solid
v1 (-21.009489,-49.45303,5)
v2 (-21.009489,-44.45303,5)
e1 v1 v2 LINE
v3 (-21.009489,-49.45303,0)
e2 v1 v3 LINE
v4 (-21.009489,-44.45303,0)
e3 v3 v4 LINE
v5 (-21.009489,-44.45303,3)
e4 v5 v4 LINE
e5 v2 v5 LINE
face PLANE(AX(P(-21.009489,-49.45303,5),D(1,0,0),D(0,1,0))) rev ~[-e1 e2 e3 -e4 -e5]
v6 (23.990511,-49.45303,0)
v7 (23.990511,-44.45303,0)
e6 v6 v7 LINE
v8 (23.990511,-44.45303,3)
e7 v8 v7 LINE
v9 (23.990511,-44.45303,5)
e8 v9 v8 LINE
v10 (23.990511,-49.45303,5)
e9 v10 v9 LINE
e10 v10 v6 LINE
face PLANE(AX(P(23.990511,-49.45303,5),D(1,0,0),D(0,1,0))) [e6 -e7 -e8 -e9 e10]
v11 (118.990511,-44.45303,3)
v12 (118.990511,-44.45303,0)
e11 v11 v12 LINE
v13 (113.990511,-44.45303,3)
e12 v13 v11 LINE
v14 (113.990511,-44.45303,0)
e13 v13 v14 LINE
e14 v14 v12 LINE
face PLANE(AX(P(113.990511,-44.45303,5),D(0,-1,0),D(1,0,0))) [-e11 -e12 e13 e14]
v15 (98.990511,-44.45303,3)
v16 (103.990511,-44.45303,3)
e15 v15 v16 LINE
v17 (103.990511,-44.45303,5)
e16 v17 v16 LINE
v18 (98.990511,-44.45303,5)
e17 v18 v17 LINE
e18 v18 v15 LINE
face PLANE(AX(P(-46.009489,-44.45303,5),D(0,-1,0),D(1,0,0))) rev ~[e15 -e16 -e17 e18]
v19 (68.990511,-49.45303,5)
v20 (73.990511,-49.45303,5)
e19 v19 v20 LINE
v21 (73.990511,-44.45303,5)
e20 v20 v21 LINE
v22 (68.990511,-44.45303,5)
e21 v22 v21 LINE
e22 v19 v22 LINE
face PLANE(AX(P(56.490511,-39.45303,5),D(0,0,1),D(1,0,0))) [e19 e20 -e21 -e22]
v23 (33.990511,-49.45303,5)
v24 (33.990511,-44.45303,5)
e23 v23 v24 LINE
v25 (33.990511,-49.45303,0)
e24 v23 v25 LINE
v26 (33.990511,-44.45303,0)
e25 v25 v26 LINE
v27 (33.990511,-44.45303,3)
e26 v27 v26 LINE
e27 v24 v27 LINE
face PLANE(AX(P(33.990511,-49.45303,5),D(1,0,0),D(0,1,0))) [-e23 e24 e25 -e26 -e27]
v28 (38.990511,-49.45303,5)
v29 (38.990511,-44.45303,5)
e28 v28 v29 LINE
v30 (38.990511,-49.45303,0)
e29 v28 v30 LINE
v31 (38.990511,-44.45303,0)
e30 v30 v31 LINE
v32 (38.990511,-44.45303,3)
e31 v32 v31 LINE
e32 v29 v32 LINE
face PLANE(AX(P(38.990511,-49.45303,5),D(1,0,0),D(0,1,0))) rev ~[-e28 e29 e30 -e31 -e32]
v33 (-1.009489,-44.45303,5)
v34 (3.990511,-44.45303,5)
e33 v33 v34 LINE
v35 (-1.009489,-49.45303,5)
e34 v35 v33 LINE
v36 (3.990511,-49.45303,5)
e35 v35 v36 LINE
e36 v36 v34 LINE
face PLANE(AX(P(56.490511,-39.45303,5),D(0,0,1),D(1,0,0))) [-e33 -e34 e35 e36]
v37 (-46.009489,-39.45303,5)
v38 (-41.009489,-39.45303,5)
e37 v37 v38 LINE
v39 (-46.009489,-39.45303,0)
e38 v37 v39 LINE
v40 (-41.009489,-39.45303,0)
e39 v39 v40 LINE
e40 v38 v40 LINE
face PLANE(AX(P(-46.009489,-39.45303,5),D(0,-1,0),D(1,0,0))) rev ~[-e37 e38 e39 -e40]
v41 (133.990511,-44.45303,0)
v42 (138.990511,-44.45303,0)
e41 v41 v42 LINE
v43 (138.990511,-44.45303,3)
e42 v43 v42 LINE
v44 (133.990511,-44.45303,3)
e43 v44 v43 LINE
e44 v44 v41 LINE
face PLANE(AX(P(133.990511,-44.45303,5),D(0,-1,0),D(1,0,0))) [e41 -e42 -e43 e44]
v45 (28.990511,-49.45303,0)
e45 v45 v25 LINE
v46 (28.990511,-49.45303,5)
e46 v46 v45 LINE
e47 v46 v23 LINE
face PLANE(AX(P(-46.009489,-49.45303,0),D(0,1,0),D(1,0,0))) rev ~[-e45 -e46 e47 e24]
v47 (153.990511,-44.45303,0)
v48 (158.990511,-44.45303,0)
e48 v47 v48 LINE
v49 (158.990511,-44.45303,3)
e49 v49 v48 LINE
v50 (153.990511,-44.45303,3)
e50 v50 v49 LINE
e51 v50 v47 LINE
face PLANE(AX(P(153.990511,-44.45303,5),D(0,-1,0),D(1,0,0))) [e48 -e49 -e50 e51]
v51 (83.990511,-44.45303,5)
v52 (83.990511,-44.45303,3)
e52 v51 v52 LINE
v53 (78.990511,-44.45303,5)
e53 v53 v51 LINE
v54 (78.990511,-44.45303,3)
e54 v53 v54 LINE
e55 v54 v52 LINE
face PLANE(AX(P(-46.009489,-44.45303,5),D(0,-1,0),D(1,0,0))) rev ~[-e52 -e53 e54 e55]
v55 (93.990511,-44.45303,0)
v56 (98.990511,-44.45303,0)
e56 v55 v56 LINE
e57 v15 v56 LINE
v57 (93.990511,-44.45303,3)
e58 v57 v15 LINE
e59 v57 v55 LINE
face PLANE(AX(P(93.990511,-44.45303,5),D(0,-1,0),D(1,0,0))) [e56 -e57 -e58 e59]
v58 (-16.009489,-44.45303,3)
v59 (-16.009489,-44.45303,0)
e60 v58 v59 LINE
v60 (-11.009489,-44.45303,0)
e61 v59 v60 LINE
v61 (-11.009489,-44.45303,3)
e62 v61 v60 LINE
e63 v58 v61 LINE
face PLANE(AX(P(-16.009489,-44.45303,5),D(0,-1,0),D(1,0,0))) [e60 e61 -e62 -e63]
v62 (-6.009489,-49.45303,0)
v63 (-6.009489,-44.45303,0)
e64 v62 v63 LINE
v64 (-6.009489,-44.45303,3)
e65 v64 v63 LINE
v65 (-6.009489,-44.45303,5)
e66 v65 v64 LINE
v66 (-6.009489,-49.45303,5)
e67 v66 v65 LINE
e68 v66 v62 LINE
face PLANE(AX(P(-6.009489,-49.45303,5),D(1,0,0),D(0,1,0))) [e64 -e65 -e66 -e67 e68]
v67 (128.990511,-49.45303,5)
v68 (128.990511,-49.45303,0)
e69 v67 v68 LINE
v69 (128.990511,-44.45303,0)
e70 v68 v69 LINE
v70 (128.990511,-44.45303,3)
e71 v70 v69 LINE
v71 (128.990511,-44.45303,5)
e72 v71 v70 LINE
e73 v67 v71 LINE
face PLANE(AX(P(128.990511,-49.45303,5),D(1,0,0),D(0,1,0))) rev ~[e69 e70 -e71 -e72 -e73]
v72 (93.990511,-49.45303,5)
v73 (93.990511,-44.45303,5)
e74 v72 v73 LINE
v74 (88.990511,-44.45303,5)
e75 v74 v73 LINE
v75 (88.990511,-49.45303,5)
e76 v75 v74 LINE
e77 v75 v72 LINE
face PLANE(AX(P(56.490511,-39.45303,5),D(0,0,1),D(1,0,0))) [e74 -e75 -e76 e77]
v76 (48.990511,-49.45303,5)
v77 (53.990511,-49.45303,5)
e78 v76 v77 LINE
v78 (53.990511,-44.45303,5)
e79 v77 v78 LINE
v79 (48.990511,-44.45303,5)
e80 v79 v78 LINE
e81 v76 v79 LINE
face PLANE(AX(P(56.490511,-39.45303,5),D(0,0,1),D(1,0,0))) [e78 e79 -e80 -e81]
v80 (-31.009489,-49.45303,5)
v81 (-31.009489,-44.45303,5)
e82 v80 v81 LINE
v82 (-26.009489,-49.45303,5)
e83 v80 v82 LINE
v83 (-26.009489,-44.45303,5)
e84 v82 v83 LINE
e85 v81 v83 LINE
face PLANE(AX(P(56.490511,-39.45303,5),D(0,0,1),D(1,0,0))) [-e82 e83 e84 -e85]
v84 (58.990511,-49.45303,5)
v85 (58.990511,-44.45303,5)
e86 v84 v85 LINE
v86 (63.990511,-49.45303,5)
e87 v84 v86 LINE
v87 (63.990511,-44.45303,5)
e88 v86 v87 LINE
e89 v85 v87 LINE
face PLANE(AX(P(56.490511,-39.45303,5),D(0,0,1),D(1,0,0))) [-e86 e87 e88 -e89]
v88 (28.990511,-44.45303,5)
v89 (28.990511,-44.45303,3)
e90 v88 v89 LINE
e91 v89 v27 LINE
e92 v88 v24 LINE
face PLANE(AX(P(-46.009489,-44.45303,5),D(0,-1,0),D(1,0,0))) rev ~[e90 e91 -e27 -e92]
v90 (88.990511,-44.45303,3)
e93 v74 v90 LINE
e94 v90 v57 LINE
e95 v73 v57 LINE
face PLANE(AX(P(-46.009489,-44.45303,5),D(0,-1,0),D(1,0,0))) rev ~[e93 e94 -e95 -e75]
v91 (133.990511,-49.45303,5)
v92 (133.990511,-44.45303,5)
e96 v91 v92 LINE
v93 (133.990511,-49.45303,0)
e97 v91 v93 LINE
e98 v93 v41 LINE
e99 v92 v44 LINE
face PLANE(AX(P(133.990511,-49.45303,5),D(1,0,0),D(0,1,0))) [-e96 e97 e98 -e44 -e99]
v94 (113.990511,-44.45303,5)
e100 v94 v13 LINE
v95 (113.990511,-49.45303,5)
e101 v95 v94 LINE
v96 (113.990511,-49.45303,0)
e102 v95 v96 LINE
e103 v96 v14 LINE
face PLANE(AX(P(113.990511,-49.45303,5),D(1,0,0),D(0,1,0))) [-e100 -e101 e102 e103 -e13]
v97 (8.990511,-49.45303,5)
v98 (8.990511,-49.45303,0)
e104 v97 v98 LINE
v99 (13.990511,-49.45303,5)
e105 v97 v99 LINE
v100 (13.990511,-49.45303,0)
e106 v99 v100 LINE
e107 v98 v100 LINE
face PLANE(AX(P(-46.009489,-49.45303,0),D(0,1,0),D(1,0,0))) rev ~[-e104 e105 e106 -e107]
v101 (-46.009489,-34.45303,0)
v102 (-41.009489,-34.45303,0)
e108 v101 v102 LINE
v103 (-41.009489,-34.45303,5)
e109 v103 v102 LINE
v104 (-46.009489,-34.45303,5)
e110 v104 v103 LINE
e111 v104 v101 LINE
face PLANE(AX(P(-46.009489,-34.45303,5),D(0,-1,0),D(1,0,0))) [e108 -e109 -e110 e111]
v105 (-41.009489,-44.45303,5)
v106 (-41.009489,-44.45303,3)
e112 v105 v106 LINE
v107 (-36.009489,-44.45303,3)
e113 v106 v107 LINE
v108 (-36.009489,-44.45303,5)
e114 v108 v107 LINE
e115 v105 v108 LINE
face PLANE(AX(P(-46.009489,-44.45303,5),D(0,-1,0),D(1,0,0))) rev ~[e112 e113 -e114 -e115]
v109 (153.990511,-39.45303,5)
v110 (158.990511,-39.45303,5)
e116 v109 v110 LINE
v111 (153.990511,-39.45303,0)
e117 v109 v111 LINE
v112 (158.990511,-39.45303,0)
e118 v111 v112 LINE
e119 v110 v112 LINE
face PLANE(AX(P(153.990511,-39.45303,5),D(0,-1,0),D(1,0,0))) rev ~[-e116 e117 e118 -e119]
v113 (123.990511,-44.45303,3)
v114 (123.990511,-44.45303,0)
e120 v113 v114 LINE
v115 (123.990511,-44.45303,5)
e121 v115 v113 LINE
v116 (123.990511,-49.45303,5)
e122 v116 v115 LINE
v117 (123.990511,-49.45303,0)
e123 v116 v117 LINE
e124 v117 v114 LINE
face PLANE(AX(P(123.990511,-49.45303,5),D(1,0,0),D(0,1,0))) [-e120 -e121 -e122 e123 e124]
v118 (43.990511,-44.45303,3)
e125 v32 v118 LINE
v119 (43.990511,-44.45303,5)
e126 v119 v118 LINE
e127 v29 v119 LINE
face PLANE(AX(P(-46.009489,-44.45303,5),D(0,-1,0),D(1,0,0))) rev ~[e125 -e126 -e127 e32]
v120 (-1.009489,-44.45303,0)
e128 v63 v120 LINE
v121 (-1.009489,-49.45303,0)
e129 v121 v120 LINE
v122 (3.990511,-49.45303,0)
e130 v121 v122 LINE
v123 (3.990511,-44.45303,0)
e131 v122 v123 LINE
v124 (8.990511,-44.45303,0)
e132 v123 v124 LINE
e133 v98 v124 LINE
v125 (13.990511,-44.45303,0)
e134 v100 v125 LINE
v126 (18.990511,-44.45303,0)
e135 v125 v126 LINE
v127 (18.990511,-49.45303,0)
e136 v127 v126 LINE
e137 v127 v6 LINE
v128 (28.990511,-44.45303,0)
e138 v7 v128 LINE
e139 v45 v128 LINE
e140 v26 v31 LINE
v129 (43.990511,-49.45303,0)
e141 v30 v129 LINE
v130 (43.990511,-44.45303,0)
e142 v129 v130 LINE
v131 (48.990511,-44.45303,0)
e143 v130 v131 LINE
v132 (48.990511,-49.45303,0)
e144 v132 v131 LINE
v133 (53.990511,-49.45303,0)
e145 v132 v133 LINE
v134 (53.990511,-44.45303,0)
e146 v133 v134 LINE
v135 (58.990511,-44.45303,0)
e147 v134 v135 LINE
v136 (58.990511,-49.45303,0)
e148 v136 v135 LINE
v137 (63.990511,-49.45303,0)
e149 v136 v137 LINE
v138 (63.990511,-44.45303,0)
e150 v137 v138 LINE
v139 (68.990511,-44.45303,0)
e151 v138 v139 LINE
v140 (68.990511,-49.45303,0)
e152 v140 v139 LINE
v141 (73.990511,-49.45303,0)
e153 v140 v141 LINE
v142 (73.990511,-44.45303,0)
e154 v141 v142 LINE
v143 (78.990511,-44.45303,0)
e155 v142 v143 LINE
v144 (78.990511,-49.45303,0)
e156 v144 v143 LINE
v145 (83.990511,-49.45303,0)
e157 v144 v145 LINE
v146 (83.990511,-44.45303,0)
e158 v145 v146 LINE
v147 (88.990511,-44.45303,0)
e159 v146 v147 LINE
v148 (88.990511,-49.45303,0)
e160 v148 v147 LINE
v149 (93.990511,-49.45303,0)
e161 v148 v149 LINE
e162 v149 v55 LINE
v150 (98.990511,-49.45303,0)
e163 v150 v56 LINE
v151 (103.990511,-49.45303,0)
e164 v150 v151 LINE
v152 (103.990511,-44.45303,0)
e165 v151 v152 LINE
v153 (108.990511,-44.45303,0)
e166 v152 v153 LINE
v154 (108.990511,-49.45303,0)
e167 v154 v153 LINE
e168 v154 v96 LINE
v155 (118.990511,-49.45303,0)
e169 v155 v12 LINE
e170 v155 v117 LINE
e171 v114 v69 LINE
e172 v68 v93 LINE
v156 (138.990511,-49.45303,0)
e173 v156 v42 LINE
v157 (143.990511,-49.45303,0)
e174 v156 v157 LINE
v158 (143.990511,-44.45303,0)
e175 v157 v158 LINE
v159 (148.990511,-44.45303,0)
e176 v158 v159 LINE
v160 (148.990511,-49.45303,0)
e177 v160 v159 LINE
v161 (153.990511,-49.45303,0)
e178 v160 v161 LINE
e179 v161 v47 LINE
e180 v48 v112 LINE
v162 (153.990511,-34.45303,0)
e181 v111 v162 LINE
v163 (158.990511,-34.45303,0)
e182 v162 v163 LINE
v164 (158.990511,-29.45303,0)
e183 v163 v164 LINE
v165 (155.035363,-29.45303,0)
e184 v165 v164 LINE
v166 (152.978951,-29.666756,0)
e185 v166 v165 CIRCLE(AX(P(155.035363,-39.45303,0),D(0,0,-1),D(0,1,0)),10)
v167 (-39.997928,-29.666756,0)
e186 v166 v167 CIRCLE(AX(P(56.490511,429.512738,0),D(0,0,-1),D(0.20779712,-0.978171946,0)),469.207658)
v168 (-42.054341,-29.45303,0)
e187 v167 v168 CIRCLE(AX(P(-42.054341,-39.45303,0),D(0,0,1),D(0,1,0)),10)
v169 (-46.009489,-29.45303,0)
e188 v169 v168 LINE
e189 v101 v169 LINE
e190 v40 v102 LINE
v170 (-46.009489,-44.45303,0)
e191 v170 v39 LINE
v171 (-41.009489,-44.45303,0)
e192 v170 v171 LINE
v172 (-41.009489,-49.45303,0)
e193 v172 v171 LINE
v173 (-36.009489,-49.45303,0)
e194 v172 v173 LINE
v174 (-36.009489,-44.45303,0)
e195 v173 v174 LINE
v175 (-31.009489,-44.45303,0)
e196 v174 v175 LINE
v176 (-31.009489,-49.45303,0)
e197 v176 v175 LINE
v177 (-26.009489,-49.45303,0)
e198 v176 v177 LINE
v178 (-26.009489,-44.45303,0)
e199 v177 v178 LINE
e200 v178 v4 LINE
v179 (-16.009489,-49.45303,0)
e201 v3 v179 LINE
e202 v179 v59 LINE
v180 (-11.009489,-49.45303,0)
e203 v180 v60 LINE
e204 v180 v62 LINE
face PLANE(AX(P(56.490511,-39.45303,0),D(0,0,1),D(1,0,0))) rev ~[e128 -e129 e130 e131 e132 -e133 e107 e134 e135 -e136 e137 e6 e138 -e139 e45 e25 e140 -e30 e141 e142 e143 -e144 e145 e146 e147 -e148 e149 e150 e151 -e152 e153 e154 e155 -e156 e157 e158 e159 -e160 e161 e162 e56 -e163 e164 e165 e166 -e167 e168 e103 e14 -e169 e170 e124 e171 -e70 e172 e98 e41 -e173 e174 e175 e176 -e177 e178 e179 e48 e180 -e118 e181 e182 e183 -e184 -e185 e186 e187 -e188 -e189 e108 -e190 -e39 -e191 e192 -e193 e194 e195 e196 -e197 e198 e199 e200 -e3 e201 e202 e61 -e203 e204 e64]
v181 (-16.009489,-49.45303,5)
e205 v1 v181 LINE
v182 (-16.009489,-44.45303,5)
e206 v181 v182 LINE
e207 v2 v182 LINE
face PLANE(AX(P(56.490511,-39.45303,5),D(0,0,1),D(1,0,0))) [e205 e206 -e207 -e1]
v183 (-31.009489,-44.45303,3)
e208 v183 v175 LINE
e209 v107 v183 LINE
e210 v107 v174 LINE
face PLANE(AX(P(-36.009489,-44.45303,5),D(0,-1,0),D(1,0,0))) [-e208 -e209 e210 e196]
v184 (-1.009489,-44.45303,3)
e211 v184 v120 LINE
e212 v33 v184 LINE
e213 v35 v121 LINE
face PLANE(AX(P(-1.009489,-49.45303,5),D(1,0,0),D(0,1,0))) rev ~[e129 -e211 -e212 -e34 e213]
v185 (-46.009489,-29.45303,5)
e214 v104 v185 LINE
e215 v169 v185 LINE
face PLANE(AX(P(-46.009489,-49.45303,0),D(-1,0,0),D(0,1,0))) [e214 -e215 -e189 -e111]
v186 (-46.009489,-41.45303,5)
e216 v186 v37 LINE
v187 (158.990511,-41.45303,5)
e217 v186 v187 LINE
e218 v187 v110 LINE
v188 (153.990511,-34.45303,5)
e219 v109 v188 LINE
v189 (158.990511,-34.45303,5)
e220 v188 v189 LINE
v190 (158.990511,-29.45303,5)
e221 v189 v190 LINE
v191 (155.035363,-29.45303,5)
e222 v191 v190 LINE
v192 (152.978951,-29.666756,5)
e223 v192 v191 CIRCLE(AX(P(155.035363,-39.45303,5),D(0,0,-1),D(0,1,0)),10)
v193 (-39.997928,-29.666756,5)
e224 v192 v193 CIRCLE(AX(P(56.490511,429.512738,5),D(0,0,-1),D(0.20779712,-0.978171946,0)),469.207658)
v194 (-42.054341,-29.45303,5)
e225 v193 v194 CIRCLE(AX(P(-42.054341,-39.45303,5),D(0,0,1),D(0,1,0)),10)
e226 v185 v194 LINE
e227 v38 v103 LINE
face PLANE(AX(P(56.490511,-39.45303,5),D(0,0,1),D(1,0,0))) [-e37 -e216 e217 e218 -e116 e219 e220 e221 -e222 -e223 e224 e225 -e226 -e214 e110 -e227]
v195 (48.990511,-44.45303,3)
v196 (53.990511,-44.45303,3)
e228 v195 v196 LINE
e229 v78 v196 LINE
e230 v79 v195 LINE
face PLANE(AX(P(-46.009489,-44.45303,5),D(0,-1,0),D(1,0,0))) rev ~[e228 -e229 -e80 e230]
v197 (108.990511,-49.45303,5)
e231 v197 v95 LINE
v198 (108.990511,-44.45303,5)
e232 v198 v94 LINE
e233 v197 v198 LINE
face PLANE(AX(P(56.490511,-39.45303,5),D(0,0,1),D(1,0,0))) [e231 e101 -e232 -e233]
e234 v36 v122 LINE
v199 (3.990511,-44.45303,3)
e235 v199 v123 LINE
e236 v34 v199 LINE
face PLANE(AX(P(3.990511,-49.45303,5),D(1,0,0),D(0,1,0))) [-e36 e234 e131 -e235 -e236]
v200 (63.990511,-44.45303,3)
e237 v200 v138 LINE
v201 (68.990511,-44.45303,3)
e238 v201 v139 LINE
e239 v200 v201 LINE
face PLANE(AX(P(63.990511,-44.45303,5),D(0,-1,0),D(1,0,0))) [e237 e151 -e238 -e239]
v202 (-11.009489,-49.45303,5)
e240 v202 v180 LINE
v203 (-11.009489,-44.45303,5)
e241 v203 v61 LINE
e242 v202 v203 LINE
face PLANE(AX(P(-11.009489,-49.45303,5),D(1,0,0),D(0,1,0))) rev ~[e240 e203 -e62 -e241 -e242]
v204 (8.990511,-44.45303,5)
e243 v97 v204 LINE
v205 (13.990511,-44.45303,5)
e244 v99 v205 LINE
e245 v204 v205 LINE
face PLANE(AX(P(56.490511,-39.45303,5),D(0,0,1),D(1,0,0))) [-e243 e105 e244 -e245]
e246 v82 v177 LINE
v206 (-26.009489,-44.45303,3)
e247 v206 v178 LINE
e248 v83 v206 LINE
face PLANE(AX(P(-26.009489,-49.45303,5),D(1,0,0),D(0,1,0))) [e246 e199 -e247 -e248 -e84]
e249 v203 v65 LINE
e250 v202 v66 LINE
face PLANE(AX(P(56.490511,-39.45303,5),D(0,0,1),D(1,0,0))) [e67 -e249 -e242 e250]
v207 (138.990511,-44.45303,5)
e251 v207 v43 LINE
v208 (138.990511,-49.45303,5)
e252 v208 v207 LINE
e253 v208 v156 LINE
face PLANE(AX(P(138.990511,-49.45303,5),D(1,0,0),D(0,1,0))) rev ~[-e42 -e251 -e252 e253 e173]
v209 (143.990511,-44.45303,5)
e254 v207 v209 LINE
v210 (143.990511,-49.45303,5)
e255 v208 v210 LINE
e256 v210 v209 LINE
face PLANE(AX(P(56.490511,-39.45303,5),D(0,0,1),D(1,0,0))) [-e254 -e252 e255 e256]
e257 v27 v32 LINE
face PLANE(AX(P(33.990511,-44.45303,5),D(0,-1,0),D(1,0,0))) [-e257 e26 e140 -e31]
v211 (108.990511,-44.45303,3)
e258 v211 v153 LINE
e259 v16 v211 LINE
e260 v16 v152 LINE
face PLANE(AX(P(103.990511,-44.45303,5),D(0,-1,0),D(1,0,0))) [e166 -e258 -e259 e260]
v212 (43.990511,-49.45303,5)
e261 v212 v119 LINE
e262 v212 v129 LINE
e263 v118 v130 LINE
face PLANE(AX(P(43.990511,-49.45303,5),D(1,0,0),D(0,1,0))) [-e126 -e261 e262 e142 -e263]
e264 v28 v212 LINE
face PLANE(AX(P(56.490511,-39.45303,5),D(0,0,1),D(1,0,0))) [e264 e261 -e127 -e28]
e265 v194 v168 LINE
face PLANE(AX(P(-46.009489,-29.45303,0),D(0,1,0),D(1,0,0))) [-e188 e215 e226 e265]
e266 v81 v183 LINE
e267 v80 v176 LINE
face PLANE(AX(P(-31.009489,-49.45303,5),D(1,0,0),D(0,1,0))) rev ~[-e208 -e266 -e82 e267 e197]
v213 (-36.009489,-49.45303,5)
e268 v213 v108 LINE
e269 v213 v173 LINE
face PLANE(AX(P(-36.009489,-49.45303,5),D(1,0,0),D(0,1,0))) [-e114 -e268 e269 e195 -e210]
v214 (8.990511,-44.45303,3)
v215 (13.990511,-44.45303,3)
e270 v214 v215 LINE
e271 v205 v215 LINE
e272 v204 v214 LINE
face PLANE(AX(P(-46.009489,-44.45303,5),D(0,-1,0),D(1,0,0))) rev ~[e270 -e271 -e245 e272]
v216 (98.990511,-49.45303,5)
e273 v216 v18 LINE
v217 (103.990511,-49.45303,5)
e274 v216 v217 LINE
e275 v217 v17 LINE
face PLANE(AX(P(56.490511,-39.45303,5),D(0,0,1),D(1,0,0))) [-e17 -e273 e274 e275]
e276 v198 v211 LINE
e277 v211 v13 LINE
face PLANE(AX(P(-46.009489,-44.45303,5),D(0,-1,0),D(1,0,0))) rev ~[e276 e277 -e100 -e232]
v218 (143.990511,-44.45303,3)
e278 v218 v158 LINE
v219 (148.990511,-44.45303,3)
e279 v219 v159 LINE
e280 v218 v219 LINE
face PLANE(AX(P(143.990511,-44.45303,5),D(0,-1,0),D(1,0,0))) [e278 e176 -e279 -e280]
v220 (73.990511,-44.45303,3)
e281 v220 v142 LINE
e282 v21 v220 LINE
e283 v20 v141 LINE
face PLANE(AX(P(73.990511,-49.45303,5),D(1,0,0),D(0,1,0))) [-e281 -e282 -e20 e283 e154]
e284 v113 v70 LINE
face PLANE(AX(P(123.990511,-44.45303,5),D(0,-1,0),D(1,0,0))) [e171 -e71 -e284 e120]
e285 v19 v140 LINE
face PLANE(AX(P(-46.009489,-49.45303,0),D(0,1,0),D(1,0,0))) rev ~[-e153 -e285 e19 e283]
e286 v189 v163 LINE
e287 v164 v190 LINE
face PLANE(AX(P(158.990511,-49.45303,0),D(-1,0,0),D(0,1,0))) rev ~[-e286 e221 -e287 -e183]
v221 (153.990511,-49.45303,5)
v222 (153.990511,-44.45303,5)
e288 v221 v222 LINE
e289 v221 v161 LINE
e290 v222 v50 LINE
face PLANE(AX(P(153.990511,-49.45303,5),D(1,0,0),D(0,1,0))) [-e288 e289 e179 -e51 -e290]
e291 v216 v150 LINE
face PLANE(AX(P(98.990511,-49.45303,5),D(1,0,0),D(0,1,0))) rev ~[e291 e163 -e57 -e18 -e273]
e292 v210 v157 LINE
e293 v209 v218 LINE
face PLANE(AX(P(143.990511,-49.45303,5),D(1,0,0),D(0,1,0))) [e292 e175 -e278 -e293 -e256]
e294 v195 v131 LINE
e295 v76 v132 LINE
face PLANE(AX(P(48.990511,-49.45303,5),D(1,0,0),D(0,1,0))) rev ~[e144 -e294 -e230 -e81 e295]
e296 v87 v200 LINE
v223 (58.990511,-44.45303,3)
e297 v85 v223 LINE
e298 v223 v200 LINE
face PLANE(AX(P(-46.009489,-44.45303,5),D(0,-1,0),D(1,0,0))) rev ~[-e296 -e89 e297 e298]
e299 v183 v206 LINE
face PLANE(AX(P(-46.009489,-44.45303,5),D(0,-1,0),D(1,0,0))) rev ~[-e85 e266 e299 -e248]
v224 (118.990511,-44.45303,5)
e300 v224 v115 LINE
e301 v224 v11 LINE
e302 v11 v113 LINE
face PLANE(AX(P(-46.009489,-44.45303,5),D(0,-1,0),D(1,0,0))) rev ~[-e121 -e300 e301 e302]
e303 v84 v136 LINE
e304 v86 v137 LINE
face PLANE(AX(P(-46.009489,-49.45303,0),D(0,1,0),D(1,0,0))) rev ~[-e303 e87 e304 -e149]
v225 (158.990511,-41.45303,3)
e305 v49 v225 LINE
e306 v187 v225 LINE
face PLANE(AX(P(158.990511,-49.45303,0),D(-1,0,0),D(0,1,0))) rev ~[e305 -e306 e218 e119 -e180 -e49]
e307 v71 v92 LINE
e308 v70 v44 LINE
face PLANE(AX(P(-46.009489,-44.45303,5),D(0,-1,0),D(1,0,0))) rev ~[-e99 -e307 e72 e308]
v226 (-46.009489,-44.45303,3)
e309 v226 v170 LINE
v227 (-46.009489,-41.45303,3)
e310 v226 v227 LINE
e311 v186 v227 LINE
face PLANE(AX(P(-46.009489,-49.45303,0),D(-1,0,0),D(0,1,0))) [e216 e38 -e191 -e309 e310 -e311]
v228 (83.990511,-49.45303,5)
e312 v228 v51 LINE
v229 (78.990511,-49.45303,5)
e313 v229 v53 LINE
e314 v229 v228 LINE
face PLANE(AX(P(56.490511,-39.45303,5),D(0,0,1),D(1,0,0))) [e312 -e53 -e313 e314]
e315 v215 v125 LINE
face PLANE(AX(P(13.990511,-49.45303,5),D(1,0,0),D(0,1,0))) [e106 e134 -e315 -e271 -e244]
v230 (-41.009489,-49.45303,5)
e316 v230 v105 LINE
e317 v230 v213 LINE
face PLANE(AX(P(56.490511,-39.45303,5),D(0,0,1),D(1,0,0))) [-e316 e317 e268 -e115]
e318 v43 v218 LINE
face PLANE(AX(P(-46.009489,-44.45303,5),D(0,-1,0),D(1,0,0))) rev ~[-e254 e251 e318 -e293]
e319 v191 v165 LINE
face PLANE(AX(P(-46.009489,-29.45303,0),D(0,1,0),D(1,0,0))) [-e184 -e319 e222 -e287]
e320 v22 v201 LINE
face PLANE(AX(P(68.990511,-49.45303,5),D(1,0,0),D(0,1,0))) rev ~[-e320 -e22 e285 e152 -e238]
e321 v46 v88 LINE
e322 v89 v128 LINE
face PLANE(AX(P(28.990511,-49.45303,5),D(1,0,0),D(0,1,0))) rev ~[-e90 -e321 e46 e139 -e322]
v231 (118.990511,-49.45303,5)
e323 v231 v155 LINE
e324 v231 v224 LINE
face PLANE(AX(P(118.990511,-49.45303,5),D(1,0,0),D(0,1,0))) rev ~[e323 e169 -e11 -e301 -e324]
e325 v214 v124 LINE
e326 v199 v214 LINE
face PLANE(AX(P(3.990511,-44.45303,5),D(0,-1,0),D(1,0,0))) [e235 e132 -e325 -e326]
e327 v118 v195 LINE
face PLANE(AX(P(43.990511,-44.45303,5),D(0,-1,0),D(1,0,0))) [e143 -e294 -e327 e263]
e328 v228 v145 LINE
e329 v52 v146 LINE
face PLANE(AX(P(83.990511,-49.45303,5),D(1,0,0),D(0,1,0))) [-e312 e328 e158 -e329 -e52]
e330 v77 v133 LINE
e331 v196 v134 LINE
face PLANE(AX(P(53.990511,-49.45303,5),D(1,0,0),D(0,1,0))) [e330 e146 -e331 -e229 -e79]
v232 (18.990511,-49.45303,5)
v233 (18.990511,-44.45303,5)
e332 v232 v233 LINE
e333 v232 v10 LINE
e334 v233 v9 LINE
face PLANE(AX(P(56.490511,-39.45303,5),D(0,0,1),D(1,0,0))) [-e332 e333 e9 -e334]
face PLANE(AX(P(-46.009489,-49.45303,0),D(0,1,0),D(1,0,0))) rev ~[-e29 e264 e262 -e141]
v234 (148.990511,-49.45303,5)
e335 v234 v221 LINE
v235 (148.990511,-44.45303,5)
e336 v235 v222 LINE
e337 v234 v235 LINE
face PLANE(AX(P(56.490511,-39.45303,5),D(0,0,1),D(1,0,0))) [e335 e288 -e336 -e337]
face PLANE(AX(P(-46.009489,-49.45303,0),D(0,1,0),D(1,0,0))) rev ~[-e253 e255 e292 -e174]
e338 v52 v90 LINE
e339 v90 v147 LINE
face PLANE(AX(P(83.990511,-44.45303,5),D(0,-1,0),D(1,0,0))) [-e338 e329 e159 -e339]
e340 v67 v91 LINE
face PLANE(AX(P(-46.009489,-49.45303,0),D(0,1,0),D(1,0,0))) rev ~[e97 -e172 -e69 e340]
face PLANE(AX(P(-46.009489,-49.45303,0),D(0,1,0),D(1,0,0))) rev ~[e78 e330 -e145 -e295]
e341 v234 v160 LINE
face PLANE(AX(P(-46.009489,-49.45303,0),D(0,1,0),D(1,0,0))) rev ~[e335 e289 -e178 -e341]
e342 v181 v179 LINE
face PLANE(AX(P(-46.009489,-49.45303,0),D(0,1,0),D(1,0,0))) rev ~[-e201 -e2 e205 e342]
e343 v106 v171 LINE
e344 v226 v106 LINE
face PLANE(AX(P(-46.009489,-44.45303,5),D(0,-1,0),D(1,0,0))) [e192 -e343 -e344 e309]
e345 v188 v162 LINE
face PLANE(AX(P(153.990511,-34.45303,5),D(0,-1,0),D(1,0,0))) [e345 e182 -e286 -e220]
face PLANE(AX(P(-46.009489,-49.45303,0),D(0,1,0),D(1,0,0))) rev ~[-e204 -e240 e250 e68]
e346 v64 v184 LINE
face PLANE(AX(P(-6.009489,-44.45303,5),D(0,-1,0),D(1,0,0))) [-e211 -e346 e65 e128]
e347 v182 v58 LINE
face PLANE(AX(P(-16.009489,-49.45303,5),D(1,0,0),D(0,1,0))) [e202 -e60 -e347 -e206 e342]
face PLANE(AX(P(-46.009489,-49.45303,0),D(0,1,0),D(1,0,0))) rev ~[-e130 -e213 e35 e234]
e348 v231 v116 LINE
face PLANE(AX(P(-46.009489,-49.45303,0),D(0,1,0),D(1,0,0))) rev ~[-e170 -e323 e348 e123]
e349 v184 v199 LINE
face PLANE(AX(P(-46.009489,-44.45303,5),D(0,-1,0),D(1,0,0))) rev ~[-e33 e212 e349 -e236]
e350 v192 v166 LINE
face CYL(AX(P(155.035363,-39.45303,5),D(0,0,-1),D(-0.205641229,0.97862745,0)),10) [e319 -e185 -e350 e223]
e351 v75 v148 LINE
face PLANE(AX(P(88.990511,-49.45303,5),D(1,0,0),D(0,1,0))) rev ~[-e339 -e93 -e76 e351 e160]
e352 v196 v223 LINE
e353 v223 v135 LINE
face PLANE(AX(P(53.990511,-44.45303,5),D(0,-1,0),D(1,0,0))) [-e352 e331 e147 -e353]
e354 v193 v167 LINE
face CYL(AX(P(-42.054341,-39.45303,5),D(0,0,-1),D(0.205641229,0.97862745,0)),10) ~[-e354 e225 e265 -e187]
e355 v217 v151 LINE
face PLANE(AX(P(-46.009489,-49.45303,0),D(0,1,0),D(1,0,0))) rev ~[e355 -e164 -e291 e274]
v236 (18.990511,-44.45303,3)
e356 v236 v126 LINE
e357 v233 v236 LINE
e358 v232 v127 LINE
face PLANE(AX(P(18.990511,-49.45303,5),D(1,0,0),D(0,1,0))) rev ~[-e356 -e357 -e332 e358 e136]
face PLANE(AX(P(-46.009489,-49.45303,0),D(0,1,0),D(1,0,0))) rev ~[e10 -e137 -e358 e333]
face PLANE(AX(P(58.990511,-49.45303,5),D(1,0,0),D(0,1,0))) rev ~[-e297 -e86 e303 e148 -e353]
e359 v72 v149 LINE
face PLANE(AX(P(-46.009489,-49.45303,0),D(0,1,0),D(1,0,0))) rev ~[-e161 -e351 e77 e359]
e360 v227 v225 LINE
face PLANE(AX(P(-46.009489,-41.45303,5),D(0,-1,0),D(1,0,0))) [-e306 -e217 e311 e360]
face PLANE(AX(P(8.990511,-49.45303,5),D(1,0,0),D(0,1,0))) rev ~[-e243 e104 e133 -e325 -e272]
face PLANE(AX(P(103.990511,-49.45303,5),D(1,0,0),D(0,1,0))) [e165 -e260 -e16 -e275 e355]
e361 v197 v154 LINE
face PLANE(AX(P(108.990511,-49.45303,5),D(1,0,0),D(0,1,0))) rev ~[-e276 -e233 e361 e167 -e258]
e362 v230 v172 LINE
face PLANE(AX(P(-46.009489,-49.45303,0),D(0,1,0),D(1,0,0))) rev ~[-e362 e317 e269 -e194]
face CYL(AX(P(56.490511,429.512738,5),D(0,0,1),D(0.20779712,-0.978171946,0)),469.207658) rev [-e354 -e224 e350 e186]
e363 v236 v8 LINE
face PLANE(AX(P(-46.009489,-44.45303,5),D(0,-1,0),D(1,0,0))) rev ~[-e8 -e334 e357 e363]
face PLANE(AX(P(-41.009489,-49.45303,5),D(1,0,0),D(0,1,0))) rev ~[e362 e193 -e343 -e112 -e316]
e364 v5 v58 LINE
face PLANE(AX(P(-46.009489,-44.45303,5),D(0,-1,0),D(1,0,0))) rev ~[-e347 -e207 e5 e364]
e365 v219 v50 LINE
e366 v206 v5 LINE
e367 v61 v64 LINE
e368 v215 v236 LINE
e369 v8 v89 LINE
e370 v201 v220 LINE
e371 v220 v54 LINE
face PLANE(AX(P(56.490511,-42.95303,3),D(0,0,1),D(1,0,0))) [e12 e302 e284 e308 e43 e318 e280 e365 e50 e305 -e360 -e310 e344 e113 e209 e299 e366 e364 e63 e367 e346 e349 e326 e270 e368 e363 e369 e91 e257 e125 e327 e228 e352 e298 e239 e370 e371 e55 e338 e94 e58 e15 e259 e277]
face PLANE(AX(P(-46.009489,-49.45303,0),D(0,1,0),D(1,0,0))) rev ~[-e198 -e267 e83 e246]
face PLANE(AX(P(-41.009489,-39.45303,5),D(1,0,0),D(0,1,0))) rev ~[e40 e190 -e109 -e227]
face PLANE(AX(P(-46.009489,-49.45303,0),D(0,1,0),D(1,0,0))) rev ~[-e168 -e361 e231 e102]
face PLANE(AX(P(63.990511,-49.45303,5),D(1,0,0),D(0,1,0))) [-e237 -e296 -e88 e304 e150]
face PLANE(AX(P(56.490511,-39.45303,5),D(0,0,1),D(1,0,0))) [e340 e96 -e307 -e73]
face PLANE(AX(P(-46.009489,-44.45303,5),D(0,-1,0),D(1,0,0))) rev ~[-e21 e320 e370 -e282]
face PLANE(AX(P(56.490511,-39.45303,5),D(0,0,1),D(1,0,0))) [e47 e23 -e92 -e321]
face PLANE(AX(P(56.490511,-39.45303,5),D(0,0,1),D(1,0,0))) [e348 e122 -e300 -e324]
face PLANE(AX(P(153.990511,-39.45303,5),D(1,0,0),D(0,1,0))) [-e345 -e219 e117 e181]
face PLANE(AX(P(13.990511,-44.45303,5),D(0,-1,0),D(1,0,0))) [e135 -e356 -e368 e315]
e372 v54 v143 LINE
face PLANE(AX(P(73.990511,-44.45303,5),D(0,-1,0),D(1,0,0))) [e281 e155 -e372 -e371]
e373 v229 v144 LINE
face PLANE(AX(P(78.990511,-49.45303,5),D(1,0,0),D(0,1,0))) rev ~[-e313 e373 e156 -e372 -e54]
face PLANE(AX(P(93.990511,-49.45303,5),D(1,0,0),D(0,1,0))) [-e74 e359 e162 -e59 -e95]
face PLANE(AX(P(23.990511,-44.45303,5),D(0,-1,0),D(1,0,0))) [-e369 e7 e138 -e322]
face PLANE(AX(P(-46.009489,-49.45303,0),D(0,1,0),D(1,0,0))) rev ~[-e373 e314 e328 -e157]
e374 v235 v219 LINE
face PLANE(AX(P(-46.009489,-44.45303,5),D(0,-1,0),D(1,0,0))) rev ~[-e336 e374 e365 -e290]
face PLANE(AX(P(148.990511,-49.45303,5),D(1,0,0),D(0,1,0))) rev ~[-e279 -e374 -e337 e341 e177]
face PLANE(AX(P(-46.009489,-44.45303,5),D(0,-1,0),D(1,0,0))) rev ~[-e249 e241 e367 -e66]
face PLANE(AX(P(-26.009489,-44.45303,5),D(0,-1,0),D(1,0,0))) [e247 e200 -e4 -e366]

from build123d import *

# Parameters (mm, degrees)
ESQUISSE1_W             = 205
ESQUISSE1_H             = 20
BOSS_EXTRU_1_DEPTH      = 5
ESQUISSE2_W             = 5
ESQUISSE2_H             = 5
ENL_V_MAT_EXTRU_2_DEPTH = 5
ESQUISSE3_W             = 205
ESQUISSE3_H             = 3
ENL_V_MAT_EXTRU_3_DEPTH = 2
CONG_2_R                = 10
CONG_3_R                = 10


with BuildPart() as part:
    # Esquisse1 → Boss.-Extru.1 (new body)
    with BuildSketch(Plane.XY):
        with Locations((56.490511124, -39.453030303)):
            Rectangle(ESQUISSE1_W, ESQUISSE1_H)
    extrude(amount=BOSS_EXTRU_1_DEPTH)

    # Esquisse2 → Enlèv. mat.-Extru.2 (cut)
    with BuildSketch(Plane.XY.offset(5)):
        with Locations((146.490511124, -46.953030303)):
            Rectangle(ESQUISSE2_W, ESQUISSE2_H)
        with Locations((156.490511124, -46.953030303)):
            Rectangle(ESQUISSE2_W, ESQUISSE2_H)
        with Locations((136.490511124, -46.953030303)):
            Rectangle(ESQUISSE2_W, ESQUISSE2_H)
        with Locations((126.490511124, -46.953030303)):
            Rectangle(ESQUISSE2_W, ESQUISSE2_H)
        with Locations((116.490511124, -46.953030303)):
            Rectangle(ESQUISSE2_W, ESQUISSE2_H)
        with Locations((106.490511124, -46.953030303)):
            Rectangle(ESQUISSE2_W, ESQUISSE2_H)
        with Locations((96.490511124, -46.953030303)):
            Rectangle(ESQUISSE2_W, ESQUISSE2_H)
        with Locations((86.490511124, -46.953030303)):
            Rectangle(ESQUISSE2_W, ESQUISSE2_H)
        with Locations((76.490511124, -46.953030303)):
            Rectangle(ESQUISSE2_W, ESQUISSE2_H)
        with Locations((66.490511124, -46.953030303)):
            Rectangle(ESQUISSE2_W, ESQUISSE2_H)
        with Locations((56.490511124, -46.953030303)):
            Rectangle(ESQUISSE2_W, ESQUISSE2_H)
        with Locations((46.490511124, -46.953030303)):
            Rectangle(ESQUISSE2_W, ESQUISSE2_H)
        with Locations((36.490511124, -46.953030303)):
            Rectangle(ESQUISSE2_W, ESQUISSE2_H)
        with Locations((26.490511124, -46.953030303)):
            Rectangle(ESQUISSE2_W, ESQUISSE2_H)
        with Locations((16.490511124, -46.953030303)):
            Rectangle(ESQUISSE2_W, ESQUISSE2_H)
        with Locations((6.490511124, -46.953030303)):
            Rectangle(ESQUISSE2_W, ESQUISSE2_H)
        with Locations((-3.509488876, -46.953030303)):
            Rectangle(ESQUISSE2_W, ESQUISSE2_H)
        with Locations((-13.509488876, -46.953030303)):
            Rectangle(ESQUISSE2_W, ESQUISSE2_H)
        with Locations((-23.509488876, -46.953030303)):
            Rectangle(ESQUISSE2_W, ESQUISSE2_H)
        with Locations((-33.509488876, -46.953030303)):
            Rectangle(ESQUISSE2_W, ESQUISSE2_H)
        with Locations((156.490511124, -36.953030303)):
            Rectangle(ESQUISSE2_W, ESQUISSE2_H)
        with BuildLine():
            Line((-41.009488876, -29.453030303), (153.990511124, -29.453030303))
            ThreePointArc((153.990511124, -29.453030303), (56.490511124, -39.694920166), (-41.009488876, -29.453030303))
        make_face()
        with Locations((-43.509488876, -46.953030303)):
            Rectangle(ESQUISSE2_W, ESQUISSE2_H)
        with Locations((-43.509488876, -36.953030303)):
            Rectangle(ESQUISSE2_W, ESQUISSE2_H)
    extrude(amount=-ENL_V_MAT_EXTRU_2_DEPTH, mode=Mode.SUBTRACT)

    # Esquisse3 → Enlèv. mat.-Extru.3 (cut)
    with BuildSketch(Plane.XY.offset(5)):
        with Locations((56.490511124, -42.953030303)):
            Rectangle(ESQUISSE3_W, ESQUISSE3_H)
    extrude(amount=-ENL_V_MAT_EXTRU_3_DEPTH, mode=Mode.SUBTRACT)

    # Congé2
    cong_2_edges = [part.edges().sort_by_distance(p)[0] for p in [
        (153.990511124, -29.453030303, 2.5),
    ]]
    fillet(cong_2_edges, radius=CONG_2_R)

    # Congé3
    cong_3_edges = [part.edges().sort_by_distance(p)[0] for p in [
        (-41.009488876, -29.453030303, 2.5),
    ]]
    fillet(cong_3_edges, radius=CONG_3_R)


solid = part.part
